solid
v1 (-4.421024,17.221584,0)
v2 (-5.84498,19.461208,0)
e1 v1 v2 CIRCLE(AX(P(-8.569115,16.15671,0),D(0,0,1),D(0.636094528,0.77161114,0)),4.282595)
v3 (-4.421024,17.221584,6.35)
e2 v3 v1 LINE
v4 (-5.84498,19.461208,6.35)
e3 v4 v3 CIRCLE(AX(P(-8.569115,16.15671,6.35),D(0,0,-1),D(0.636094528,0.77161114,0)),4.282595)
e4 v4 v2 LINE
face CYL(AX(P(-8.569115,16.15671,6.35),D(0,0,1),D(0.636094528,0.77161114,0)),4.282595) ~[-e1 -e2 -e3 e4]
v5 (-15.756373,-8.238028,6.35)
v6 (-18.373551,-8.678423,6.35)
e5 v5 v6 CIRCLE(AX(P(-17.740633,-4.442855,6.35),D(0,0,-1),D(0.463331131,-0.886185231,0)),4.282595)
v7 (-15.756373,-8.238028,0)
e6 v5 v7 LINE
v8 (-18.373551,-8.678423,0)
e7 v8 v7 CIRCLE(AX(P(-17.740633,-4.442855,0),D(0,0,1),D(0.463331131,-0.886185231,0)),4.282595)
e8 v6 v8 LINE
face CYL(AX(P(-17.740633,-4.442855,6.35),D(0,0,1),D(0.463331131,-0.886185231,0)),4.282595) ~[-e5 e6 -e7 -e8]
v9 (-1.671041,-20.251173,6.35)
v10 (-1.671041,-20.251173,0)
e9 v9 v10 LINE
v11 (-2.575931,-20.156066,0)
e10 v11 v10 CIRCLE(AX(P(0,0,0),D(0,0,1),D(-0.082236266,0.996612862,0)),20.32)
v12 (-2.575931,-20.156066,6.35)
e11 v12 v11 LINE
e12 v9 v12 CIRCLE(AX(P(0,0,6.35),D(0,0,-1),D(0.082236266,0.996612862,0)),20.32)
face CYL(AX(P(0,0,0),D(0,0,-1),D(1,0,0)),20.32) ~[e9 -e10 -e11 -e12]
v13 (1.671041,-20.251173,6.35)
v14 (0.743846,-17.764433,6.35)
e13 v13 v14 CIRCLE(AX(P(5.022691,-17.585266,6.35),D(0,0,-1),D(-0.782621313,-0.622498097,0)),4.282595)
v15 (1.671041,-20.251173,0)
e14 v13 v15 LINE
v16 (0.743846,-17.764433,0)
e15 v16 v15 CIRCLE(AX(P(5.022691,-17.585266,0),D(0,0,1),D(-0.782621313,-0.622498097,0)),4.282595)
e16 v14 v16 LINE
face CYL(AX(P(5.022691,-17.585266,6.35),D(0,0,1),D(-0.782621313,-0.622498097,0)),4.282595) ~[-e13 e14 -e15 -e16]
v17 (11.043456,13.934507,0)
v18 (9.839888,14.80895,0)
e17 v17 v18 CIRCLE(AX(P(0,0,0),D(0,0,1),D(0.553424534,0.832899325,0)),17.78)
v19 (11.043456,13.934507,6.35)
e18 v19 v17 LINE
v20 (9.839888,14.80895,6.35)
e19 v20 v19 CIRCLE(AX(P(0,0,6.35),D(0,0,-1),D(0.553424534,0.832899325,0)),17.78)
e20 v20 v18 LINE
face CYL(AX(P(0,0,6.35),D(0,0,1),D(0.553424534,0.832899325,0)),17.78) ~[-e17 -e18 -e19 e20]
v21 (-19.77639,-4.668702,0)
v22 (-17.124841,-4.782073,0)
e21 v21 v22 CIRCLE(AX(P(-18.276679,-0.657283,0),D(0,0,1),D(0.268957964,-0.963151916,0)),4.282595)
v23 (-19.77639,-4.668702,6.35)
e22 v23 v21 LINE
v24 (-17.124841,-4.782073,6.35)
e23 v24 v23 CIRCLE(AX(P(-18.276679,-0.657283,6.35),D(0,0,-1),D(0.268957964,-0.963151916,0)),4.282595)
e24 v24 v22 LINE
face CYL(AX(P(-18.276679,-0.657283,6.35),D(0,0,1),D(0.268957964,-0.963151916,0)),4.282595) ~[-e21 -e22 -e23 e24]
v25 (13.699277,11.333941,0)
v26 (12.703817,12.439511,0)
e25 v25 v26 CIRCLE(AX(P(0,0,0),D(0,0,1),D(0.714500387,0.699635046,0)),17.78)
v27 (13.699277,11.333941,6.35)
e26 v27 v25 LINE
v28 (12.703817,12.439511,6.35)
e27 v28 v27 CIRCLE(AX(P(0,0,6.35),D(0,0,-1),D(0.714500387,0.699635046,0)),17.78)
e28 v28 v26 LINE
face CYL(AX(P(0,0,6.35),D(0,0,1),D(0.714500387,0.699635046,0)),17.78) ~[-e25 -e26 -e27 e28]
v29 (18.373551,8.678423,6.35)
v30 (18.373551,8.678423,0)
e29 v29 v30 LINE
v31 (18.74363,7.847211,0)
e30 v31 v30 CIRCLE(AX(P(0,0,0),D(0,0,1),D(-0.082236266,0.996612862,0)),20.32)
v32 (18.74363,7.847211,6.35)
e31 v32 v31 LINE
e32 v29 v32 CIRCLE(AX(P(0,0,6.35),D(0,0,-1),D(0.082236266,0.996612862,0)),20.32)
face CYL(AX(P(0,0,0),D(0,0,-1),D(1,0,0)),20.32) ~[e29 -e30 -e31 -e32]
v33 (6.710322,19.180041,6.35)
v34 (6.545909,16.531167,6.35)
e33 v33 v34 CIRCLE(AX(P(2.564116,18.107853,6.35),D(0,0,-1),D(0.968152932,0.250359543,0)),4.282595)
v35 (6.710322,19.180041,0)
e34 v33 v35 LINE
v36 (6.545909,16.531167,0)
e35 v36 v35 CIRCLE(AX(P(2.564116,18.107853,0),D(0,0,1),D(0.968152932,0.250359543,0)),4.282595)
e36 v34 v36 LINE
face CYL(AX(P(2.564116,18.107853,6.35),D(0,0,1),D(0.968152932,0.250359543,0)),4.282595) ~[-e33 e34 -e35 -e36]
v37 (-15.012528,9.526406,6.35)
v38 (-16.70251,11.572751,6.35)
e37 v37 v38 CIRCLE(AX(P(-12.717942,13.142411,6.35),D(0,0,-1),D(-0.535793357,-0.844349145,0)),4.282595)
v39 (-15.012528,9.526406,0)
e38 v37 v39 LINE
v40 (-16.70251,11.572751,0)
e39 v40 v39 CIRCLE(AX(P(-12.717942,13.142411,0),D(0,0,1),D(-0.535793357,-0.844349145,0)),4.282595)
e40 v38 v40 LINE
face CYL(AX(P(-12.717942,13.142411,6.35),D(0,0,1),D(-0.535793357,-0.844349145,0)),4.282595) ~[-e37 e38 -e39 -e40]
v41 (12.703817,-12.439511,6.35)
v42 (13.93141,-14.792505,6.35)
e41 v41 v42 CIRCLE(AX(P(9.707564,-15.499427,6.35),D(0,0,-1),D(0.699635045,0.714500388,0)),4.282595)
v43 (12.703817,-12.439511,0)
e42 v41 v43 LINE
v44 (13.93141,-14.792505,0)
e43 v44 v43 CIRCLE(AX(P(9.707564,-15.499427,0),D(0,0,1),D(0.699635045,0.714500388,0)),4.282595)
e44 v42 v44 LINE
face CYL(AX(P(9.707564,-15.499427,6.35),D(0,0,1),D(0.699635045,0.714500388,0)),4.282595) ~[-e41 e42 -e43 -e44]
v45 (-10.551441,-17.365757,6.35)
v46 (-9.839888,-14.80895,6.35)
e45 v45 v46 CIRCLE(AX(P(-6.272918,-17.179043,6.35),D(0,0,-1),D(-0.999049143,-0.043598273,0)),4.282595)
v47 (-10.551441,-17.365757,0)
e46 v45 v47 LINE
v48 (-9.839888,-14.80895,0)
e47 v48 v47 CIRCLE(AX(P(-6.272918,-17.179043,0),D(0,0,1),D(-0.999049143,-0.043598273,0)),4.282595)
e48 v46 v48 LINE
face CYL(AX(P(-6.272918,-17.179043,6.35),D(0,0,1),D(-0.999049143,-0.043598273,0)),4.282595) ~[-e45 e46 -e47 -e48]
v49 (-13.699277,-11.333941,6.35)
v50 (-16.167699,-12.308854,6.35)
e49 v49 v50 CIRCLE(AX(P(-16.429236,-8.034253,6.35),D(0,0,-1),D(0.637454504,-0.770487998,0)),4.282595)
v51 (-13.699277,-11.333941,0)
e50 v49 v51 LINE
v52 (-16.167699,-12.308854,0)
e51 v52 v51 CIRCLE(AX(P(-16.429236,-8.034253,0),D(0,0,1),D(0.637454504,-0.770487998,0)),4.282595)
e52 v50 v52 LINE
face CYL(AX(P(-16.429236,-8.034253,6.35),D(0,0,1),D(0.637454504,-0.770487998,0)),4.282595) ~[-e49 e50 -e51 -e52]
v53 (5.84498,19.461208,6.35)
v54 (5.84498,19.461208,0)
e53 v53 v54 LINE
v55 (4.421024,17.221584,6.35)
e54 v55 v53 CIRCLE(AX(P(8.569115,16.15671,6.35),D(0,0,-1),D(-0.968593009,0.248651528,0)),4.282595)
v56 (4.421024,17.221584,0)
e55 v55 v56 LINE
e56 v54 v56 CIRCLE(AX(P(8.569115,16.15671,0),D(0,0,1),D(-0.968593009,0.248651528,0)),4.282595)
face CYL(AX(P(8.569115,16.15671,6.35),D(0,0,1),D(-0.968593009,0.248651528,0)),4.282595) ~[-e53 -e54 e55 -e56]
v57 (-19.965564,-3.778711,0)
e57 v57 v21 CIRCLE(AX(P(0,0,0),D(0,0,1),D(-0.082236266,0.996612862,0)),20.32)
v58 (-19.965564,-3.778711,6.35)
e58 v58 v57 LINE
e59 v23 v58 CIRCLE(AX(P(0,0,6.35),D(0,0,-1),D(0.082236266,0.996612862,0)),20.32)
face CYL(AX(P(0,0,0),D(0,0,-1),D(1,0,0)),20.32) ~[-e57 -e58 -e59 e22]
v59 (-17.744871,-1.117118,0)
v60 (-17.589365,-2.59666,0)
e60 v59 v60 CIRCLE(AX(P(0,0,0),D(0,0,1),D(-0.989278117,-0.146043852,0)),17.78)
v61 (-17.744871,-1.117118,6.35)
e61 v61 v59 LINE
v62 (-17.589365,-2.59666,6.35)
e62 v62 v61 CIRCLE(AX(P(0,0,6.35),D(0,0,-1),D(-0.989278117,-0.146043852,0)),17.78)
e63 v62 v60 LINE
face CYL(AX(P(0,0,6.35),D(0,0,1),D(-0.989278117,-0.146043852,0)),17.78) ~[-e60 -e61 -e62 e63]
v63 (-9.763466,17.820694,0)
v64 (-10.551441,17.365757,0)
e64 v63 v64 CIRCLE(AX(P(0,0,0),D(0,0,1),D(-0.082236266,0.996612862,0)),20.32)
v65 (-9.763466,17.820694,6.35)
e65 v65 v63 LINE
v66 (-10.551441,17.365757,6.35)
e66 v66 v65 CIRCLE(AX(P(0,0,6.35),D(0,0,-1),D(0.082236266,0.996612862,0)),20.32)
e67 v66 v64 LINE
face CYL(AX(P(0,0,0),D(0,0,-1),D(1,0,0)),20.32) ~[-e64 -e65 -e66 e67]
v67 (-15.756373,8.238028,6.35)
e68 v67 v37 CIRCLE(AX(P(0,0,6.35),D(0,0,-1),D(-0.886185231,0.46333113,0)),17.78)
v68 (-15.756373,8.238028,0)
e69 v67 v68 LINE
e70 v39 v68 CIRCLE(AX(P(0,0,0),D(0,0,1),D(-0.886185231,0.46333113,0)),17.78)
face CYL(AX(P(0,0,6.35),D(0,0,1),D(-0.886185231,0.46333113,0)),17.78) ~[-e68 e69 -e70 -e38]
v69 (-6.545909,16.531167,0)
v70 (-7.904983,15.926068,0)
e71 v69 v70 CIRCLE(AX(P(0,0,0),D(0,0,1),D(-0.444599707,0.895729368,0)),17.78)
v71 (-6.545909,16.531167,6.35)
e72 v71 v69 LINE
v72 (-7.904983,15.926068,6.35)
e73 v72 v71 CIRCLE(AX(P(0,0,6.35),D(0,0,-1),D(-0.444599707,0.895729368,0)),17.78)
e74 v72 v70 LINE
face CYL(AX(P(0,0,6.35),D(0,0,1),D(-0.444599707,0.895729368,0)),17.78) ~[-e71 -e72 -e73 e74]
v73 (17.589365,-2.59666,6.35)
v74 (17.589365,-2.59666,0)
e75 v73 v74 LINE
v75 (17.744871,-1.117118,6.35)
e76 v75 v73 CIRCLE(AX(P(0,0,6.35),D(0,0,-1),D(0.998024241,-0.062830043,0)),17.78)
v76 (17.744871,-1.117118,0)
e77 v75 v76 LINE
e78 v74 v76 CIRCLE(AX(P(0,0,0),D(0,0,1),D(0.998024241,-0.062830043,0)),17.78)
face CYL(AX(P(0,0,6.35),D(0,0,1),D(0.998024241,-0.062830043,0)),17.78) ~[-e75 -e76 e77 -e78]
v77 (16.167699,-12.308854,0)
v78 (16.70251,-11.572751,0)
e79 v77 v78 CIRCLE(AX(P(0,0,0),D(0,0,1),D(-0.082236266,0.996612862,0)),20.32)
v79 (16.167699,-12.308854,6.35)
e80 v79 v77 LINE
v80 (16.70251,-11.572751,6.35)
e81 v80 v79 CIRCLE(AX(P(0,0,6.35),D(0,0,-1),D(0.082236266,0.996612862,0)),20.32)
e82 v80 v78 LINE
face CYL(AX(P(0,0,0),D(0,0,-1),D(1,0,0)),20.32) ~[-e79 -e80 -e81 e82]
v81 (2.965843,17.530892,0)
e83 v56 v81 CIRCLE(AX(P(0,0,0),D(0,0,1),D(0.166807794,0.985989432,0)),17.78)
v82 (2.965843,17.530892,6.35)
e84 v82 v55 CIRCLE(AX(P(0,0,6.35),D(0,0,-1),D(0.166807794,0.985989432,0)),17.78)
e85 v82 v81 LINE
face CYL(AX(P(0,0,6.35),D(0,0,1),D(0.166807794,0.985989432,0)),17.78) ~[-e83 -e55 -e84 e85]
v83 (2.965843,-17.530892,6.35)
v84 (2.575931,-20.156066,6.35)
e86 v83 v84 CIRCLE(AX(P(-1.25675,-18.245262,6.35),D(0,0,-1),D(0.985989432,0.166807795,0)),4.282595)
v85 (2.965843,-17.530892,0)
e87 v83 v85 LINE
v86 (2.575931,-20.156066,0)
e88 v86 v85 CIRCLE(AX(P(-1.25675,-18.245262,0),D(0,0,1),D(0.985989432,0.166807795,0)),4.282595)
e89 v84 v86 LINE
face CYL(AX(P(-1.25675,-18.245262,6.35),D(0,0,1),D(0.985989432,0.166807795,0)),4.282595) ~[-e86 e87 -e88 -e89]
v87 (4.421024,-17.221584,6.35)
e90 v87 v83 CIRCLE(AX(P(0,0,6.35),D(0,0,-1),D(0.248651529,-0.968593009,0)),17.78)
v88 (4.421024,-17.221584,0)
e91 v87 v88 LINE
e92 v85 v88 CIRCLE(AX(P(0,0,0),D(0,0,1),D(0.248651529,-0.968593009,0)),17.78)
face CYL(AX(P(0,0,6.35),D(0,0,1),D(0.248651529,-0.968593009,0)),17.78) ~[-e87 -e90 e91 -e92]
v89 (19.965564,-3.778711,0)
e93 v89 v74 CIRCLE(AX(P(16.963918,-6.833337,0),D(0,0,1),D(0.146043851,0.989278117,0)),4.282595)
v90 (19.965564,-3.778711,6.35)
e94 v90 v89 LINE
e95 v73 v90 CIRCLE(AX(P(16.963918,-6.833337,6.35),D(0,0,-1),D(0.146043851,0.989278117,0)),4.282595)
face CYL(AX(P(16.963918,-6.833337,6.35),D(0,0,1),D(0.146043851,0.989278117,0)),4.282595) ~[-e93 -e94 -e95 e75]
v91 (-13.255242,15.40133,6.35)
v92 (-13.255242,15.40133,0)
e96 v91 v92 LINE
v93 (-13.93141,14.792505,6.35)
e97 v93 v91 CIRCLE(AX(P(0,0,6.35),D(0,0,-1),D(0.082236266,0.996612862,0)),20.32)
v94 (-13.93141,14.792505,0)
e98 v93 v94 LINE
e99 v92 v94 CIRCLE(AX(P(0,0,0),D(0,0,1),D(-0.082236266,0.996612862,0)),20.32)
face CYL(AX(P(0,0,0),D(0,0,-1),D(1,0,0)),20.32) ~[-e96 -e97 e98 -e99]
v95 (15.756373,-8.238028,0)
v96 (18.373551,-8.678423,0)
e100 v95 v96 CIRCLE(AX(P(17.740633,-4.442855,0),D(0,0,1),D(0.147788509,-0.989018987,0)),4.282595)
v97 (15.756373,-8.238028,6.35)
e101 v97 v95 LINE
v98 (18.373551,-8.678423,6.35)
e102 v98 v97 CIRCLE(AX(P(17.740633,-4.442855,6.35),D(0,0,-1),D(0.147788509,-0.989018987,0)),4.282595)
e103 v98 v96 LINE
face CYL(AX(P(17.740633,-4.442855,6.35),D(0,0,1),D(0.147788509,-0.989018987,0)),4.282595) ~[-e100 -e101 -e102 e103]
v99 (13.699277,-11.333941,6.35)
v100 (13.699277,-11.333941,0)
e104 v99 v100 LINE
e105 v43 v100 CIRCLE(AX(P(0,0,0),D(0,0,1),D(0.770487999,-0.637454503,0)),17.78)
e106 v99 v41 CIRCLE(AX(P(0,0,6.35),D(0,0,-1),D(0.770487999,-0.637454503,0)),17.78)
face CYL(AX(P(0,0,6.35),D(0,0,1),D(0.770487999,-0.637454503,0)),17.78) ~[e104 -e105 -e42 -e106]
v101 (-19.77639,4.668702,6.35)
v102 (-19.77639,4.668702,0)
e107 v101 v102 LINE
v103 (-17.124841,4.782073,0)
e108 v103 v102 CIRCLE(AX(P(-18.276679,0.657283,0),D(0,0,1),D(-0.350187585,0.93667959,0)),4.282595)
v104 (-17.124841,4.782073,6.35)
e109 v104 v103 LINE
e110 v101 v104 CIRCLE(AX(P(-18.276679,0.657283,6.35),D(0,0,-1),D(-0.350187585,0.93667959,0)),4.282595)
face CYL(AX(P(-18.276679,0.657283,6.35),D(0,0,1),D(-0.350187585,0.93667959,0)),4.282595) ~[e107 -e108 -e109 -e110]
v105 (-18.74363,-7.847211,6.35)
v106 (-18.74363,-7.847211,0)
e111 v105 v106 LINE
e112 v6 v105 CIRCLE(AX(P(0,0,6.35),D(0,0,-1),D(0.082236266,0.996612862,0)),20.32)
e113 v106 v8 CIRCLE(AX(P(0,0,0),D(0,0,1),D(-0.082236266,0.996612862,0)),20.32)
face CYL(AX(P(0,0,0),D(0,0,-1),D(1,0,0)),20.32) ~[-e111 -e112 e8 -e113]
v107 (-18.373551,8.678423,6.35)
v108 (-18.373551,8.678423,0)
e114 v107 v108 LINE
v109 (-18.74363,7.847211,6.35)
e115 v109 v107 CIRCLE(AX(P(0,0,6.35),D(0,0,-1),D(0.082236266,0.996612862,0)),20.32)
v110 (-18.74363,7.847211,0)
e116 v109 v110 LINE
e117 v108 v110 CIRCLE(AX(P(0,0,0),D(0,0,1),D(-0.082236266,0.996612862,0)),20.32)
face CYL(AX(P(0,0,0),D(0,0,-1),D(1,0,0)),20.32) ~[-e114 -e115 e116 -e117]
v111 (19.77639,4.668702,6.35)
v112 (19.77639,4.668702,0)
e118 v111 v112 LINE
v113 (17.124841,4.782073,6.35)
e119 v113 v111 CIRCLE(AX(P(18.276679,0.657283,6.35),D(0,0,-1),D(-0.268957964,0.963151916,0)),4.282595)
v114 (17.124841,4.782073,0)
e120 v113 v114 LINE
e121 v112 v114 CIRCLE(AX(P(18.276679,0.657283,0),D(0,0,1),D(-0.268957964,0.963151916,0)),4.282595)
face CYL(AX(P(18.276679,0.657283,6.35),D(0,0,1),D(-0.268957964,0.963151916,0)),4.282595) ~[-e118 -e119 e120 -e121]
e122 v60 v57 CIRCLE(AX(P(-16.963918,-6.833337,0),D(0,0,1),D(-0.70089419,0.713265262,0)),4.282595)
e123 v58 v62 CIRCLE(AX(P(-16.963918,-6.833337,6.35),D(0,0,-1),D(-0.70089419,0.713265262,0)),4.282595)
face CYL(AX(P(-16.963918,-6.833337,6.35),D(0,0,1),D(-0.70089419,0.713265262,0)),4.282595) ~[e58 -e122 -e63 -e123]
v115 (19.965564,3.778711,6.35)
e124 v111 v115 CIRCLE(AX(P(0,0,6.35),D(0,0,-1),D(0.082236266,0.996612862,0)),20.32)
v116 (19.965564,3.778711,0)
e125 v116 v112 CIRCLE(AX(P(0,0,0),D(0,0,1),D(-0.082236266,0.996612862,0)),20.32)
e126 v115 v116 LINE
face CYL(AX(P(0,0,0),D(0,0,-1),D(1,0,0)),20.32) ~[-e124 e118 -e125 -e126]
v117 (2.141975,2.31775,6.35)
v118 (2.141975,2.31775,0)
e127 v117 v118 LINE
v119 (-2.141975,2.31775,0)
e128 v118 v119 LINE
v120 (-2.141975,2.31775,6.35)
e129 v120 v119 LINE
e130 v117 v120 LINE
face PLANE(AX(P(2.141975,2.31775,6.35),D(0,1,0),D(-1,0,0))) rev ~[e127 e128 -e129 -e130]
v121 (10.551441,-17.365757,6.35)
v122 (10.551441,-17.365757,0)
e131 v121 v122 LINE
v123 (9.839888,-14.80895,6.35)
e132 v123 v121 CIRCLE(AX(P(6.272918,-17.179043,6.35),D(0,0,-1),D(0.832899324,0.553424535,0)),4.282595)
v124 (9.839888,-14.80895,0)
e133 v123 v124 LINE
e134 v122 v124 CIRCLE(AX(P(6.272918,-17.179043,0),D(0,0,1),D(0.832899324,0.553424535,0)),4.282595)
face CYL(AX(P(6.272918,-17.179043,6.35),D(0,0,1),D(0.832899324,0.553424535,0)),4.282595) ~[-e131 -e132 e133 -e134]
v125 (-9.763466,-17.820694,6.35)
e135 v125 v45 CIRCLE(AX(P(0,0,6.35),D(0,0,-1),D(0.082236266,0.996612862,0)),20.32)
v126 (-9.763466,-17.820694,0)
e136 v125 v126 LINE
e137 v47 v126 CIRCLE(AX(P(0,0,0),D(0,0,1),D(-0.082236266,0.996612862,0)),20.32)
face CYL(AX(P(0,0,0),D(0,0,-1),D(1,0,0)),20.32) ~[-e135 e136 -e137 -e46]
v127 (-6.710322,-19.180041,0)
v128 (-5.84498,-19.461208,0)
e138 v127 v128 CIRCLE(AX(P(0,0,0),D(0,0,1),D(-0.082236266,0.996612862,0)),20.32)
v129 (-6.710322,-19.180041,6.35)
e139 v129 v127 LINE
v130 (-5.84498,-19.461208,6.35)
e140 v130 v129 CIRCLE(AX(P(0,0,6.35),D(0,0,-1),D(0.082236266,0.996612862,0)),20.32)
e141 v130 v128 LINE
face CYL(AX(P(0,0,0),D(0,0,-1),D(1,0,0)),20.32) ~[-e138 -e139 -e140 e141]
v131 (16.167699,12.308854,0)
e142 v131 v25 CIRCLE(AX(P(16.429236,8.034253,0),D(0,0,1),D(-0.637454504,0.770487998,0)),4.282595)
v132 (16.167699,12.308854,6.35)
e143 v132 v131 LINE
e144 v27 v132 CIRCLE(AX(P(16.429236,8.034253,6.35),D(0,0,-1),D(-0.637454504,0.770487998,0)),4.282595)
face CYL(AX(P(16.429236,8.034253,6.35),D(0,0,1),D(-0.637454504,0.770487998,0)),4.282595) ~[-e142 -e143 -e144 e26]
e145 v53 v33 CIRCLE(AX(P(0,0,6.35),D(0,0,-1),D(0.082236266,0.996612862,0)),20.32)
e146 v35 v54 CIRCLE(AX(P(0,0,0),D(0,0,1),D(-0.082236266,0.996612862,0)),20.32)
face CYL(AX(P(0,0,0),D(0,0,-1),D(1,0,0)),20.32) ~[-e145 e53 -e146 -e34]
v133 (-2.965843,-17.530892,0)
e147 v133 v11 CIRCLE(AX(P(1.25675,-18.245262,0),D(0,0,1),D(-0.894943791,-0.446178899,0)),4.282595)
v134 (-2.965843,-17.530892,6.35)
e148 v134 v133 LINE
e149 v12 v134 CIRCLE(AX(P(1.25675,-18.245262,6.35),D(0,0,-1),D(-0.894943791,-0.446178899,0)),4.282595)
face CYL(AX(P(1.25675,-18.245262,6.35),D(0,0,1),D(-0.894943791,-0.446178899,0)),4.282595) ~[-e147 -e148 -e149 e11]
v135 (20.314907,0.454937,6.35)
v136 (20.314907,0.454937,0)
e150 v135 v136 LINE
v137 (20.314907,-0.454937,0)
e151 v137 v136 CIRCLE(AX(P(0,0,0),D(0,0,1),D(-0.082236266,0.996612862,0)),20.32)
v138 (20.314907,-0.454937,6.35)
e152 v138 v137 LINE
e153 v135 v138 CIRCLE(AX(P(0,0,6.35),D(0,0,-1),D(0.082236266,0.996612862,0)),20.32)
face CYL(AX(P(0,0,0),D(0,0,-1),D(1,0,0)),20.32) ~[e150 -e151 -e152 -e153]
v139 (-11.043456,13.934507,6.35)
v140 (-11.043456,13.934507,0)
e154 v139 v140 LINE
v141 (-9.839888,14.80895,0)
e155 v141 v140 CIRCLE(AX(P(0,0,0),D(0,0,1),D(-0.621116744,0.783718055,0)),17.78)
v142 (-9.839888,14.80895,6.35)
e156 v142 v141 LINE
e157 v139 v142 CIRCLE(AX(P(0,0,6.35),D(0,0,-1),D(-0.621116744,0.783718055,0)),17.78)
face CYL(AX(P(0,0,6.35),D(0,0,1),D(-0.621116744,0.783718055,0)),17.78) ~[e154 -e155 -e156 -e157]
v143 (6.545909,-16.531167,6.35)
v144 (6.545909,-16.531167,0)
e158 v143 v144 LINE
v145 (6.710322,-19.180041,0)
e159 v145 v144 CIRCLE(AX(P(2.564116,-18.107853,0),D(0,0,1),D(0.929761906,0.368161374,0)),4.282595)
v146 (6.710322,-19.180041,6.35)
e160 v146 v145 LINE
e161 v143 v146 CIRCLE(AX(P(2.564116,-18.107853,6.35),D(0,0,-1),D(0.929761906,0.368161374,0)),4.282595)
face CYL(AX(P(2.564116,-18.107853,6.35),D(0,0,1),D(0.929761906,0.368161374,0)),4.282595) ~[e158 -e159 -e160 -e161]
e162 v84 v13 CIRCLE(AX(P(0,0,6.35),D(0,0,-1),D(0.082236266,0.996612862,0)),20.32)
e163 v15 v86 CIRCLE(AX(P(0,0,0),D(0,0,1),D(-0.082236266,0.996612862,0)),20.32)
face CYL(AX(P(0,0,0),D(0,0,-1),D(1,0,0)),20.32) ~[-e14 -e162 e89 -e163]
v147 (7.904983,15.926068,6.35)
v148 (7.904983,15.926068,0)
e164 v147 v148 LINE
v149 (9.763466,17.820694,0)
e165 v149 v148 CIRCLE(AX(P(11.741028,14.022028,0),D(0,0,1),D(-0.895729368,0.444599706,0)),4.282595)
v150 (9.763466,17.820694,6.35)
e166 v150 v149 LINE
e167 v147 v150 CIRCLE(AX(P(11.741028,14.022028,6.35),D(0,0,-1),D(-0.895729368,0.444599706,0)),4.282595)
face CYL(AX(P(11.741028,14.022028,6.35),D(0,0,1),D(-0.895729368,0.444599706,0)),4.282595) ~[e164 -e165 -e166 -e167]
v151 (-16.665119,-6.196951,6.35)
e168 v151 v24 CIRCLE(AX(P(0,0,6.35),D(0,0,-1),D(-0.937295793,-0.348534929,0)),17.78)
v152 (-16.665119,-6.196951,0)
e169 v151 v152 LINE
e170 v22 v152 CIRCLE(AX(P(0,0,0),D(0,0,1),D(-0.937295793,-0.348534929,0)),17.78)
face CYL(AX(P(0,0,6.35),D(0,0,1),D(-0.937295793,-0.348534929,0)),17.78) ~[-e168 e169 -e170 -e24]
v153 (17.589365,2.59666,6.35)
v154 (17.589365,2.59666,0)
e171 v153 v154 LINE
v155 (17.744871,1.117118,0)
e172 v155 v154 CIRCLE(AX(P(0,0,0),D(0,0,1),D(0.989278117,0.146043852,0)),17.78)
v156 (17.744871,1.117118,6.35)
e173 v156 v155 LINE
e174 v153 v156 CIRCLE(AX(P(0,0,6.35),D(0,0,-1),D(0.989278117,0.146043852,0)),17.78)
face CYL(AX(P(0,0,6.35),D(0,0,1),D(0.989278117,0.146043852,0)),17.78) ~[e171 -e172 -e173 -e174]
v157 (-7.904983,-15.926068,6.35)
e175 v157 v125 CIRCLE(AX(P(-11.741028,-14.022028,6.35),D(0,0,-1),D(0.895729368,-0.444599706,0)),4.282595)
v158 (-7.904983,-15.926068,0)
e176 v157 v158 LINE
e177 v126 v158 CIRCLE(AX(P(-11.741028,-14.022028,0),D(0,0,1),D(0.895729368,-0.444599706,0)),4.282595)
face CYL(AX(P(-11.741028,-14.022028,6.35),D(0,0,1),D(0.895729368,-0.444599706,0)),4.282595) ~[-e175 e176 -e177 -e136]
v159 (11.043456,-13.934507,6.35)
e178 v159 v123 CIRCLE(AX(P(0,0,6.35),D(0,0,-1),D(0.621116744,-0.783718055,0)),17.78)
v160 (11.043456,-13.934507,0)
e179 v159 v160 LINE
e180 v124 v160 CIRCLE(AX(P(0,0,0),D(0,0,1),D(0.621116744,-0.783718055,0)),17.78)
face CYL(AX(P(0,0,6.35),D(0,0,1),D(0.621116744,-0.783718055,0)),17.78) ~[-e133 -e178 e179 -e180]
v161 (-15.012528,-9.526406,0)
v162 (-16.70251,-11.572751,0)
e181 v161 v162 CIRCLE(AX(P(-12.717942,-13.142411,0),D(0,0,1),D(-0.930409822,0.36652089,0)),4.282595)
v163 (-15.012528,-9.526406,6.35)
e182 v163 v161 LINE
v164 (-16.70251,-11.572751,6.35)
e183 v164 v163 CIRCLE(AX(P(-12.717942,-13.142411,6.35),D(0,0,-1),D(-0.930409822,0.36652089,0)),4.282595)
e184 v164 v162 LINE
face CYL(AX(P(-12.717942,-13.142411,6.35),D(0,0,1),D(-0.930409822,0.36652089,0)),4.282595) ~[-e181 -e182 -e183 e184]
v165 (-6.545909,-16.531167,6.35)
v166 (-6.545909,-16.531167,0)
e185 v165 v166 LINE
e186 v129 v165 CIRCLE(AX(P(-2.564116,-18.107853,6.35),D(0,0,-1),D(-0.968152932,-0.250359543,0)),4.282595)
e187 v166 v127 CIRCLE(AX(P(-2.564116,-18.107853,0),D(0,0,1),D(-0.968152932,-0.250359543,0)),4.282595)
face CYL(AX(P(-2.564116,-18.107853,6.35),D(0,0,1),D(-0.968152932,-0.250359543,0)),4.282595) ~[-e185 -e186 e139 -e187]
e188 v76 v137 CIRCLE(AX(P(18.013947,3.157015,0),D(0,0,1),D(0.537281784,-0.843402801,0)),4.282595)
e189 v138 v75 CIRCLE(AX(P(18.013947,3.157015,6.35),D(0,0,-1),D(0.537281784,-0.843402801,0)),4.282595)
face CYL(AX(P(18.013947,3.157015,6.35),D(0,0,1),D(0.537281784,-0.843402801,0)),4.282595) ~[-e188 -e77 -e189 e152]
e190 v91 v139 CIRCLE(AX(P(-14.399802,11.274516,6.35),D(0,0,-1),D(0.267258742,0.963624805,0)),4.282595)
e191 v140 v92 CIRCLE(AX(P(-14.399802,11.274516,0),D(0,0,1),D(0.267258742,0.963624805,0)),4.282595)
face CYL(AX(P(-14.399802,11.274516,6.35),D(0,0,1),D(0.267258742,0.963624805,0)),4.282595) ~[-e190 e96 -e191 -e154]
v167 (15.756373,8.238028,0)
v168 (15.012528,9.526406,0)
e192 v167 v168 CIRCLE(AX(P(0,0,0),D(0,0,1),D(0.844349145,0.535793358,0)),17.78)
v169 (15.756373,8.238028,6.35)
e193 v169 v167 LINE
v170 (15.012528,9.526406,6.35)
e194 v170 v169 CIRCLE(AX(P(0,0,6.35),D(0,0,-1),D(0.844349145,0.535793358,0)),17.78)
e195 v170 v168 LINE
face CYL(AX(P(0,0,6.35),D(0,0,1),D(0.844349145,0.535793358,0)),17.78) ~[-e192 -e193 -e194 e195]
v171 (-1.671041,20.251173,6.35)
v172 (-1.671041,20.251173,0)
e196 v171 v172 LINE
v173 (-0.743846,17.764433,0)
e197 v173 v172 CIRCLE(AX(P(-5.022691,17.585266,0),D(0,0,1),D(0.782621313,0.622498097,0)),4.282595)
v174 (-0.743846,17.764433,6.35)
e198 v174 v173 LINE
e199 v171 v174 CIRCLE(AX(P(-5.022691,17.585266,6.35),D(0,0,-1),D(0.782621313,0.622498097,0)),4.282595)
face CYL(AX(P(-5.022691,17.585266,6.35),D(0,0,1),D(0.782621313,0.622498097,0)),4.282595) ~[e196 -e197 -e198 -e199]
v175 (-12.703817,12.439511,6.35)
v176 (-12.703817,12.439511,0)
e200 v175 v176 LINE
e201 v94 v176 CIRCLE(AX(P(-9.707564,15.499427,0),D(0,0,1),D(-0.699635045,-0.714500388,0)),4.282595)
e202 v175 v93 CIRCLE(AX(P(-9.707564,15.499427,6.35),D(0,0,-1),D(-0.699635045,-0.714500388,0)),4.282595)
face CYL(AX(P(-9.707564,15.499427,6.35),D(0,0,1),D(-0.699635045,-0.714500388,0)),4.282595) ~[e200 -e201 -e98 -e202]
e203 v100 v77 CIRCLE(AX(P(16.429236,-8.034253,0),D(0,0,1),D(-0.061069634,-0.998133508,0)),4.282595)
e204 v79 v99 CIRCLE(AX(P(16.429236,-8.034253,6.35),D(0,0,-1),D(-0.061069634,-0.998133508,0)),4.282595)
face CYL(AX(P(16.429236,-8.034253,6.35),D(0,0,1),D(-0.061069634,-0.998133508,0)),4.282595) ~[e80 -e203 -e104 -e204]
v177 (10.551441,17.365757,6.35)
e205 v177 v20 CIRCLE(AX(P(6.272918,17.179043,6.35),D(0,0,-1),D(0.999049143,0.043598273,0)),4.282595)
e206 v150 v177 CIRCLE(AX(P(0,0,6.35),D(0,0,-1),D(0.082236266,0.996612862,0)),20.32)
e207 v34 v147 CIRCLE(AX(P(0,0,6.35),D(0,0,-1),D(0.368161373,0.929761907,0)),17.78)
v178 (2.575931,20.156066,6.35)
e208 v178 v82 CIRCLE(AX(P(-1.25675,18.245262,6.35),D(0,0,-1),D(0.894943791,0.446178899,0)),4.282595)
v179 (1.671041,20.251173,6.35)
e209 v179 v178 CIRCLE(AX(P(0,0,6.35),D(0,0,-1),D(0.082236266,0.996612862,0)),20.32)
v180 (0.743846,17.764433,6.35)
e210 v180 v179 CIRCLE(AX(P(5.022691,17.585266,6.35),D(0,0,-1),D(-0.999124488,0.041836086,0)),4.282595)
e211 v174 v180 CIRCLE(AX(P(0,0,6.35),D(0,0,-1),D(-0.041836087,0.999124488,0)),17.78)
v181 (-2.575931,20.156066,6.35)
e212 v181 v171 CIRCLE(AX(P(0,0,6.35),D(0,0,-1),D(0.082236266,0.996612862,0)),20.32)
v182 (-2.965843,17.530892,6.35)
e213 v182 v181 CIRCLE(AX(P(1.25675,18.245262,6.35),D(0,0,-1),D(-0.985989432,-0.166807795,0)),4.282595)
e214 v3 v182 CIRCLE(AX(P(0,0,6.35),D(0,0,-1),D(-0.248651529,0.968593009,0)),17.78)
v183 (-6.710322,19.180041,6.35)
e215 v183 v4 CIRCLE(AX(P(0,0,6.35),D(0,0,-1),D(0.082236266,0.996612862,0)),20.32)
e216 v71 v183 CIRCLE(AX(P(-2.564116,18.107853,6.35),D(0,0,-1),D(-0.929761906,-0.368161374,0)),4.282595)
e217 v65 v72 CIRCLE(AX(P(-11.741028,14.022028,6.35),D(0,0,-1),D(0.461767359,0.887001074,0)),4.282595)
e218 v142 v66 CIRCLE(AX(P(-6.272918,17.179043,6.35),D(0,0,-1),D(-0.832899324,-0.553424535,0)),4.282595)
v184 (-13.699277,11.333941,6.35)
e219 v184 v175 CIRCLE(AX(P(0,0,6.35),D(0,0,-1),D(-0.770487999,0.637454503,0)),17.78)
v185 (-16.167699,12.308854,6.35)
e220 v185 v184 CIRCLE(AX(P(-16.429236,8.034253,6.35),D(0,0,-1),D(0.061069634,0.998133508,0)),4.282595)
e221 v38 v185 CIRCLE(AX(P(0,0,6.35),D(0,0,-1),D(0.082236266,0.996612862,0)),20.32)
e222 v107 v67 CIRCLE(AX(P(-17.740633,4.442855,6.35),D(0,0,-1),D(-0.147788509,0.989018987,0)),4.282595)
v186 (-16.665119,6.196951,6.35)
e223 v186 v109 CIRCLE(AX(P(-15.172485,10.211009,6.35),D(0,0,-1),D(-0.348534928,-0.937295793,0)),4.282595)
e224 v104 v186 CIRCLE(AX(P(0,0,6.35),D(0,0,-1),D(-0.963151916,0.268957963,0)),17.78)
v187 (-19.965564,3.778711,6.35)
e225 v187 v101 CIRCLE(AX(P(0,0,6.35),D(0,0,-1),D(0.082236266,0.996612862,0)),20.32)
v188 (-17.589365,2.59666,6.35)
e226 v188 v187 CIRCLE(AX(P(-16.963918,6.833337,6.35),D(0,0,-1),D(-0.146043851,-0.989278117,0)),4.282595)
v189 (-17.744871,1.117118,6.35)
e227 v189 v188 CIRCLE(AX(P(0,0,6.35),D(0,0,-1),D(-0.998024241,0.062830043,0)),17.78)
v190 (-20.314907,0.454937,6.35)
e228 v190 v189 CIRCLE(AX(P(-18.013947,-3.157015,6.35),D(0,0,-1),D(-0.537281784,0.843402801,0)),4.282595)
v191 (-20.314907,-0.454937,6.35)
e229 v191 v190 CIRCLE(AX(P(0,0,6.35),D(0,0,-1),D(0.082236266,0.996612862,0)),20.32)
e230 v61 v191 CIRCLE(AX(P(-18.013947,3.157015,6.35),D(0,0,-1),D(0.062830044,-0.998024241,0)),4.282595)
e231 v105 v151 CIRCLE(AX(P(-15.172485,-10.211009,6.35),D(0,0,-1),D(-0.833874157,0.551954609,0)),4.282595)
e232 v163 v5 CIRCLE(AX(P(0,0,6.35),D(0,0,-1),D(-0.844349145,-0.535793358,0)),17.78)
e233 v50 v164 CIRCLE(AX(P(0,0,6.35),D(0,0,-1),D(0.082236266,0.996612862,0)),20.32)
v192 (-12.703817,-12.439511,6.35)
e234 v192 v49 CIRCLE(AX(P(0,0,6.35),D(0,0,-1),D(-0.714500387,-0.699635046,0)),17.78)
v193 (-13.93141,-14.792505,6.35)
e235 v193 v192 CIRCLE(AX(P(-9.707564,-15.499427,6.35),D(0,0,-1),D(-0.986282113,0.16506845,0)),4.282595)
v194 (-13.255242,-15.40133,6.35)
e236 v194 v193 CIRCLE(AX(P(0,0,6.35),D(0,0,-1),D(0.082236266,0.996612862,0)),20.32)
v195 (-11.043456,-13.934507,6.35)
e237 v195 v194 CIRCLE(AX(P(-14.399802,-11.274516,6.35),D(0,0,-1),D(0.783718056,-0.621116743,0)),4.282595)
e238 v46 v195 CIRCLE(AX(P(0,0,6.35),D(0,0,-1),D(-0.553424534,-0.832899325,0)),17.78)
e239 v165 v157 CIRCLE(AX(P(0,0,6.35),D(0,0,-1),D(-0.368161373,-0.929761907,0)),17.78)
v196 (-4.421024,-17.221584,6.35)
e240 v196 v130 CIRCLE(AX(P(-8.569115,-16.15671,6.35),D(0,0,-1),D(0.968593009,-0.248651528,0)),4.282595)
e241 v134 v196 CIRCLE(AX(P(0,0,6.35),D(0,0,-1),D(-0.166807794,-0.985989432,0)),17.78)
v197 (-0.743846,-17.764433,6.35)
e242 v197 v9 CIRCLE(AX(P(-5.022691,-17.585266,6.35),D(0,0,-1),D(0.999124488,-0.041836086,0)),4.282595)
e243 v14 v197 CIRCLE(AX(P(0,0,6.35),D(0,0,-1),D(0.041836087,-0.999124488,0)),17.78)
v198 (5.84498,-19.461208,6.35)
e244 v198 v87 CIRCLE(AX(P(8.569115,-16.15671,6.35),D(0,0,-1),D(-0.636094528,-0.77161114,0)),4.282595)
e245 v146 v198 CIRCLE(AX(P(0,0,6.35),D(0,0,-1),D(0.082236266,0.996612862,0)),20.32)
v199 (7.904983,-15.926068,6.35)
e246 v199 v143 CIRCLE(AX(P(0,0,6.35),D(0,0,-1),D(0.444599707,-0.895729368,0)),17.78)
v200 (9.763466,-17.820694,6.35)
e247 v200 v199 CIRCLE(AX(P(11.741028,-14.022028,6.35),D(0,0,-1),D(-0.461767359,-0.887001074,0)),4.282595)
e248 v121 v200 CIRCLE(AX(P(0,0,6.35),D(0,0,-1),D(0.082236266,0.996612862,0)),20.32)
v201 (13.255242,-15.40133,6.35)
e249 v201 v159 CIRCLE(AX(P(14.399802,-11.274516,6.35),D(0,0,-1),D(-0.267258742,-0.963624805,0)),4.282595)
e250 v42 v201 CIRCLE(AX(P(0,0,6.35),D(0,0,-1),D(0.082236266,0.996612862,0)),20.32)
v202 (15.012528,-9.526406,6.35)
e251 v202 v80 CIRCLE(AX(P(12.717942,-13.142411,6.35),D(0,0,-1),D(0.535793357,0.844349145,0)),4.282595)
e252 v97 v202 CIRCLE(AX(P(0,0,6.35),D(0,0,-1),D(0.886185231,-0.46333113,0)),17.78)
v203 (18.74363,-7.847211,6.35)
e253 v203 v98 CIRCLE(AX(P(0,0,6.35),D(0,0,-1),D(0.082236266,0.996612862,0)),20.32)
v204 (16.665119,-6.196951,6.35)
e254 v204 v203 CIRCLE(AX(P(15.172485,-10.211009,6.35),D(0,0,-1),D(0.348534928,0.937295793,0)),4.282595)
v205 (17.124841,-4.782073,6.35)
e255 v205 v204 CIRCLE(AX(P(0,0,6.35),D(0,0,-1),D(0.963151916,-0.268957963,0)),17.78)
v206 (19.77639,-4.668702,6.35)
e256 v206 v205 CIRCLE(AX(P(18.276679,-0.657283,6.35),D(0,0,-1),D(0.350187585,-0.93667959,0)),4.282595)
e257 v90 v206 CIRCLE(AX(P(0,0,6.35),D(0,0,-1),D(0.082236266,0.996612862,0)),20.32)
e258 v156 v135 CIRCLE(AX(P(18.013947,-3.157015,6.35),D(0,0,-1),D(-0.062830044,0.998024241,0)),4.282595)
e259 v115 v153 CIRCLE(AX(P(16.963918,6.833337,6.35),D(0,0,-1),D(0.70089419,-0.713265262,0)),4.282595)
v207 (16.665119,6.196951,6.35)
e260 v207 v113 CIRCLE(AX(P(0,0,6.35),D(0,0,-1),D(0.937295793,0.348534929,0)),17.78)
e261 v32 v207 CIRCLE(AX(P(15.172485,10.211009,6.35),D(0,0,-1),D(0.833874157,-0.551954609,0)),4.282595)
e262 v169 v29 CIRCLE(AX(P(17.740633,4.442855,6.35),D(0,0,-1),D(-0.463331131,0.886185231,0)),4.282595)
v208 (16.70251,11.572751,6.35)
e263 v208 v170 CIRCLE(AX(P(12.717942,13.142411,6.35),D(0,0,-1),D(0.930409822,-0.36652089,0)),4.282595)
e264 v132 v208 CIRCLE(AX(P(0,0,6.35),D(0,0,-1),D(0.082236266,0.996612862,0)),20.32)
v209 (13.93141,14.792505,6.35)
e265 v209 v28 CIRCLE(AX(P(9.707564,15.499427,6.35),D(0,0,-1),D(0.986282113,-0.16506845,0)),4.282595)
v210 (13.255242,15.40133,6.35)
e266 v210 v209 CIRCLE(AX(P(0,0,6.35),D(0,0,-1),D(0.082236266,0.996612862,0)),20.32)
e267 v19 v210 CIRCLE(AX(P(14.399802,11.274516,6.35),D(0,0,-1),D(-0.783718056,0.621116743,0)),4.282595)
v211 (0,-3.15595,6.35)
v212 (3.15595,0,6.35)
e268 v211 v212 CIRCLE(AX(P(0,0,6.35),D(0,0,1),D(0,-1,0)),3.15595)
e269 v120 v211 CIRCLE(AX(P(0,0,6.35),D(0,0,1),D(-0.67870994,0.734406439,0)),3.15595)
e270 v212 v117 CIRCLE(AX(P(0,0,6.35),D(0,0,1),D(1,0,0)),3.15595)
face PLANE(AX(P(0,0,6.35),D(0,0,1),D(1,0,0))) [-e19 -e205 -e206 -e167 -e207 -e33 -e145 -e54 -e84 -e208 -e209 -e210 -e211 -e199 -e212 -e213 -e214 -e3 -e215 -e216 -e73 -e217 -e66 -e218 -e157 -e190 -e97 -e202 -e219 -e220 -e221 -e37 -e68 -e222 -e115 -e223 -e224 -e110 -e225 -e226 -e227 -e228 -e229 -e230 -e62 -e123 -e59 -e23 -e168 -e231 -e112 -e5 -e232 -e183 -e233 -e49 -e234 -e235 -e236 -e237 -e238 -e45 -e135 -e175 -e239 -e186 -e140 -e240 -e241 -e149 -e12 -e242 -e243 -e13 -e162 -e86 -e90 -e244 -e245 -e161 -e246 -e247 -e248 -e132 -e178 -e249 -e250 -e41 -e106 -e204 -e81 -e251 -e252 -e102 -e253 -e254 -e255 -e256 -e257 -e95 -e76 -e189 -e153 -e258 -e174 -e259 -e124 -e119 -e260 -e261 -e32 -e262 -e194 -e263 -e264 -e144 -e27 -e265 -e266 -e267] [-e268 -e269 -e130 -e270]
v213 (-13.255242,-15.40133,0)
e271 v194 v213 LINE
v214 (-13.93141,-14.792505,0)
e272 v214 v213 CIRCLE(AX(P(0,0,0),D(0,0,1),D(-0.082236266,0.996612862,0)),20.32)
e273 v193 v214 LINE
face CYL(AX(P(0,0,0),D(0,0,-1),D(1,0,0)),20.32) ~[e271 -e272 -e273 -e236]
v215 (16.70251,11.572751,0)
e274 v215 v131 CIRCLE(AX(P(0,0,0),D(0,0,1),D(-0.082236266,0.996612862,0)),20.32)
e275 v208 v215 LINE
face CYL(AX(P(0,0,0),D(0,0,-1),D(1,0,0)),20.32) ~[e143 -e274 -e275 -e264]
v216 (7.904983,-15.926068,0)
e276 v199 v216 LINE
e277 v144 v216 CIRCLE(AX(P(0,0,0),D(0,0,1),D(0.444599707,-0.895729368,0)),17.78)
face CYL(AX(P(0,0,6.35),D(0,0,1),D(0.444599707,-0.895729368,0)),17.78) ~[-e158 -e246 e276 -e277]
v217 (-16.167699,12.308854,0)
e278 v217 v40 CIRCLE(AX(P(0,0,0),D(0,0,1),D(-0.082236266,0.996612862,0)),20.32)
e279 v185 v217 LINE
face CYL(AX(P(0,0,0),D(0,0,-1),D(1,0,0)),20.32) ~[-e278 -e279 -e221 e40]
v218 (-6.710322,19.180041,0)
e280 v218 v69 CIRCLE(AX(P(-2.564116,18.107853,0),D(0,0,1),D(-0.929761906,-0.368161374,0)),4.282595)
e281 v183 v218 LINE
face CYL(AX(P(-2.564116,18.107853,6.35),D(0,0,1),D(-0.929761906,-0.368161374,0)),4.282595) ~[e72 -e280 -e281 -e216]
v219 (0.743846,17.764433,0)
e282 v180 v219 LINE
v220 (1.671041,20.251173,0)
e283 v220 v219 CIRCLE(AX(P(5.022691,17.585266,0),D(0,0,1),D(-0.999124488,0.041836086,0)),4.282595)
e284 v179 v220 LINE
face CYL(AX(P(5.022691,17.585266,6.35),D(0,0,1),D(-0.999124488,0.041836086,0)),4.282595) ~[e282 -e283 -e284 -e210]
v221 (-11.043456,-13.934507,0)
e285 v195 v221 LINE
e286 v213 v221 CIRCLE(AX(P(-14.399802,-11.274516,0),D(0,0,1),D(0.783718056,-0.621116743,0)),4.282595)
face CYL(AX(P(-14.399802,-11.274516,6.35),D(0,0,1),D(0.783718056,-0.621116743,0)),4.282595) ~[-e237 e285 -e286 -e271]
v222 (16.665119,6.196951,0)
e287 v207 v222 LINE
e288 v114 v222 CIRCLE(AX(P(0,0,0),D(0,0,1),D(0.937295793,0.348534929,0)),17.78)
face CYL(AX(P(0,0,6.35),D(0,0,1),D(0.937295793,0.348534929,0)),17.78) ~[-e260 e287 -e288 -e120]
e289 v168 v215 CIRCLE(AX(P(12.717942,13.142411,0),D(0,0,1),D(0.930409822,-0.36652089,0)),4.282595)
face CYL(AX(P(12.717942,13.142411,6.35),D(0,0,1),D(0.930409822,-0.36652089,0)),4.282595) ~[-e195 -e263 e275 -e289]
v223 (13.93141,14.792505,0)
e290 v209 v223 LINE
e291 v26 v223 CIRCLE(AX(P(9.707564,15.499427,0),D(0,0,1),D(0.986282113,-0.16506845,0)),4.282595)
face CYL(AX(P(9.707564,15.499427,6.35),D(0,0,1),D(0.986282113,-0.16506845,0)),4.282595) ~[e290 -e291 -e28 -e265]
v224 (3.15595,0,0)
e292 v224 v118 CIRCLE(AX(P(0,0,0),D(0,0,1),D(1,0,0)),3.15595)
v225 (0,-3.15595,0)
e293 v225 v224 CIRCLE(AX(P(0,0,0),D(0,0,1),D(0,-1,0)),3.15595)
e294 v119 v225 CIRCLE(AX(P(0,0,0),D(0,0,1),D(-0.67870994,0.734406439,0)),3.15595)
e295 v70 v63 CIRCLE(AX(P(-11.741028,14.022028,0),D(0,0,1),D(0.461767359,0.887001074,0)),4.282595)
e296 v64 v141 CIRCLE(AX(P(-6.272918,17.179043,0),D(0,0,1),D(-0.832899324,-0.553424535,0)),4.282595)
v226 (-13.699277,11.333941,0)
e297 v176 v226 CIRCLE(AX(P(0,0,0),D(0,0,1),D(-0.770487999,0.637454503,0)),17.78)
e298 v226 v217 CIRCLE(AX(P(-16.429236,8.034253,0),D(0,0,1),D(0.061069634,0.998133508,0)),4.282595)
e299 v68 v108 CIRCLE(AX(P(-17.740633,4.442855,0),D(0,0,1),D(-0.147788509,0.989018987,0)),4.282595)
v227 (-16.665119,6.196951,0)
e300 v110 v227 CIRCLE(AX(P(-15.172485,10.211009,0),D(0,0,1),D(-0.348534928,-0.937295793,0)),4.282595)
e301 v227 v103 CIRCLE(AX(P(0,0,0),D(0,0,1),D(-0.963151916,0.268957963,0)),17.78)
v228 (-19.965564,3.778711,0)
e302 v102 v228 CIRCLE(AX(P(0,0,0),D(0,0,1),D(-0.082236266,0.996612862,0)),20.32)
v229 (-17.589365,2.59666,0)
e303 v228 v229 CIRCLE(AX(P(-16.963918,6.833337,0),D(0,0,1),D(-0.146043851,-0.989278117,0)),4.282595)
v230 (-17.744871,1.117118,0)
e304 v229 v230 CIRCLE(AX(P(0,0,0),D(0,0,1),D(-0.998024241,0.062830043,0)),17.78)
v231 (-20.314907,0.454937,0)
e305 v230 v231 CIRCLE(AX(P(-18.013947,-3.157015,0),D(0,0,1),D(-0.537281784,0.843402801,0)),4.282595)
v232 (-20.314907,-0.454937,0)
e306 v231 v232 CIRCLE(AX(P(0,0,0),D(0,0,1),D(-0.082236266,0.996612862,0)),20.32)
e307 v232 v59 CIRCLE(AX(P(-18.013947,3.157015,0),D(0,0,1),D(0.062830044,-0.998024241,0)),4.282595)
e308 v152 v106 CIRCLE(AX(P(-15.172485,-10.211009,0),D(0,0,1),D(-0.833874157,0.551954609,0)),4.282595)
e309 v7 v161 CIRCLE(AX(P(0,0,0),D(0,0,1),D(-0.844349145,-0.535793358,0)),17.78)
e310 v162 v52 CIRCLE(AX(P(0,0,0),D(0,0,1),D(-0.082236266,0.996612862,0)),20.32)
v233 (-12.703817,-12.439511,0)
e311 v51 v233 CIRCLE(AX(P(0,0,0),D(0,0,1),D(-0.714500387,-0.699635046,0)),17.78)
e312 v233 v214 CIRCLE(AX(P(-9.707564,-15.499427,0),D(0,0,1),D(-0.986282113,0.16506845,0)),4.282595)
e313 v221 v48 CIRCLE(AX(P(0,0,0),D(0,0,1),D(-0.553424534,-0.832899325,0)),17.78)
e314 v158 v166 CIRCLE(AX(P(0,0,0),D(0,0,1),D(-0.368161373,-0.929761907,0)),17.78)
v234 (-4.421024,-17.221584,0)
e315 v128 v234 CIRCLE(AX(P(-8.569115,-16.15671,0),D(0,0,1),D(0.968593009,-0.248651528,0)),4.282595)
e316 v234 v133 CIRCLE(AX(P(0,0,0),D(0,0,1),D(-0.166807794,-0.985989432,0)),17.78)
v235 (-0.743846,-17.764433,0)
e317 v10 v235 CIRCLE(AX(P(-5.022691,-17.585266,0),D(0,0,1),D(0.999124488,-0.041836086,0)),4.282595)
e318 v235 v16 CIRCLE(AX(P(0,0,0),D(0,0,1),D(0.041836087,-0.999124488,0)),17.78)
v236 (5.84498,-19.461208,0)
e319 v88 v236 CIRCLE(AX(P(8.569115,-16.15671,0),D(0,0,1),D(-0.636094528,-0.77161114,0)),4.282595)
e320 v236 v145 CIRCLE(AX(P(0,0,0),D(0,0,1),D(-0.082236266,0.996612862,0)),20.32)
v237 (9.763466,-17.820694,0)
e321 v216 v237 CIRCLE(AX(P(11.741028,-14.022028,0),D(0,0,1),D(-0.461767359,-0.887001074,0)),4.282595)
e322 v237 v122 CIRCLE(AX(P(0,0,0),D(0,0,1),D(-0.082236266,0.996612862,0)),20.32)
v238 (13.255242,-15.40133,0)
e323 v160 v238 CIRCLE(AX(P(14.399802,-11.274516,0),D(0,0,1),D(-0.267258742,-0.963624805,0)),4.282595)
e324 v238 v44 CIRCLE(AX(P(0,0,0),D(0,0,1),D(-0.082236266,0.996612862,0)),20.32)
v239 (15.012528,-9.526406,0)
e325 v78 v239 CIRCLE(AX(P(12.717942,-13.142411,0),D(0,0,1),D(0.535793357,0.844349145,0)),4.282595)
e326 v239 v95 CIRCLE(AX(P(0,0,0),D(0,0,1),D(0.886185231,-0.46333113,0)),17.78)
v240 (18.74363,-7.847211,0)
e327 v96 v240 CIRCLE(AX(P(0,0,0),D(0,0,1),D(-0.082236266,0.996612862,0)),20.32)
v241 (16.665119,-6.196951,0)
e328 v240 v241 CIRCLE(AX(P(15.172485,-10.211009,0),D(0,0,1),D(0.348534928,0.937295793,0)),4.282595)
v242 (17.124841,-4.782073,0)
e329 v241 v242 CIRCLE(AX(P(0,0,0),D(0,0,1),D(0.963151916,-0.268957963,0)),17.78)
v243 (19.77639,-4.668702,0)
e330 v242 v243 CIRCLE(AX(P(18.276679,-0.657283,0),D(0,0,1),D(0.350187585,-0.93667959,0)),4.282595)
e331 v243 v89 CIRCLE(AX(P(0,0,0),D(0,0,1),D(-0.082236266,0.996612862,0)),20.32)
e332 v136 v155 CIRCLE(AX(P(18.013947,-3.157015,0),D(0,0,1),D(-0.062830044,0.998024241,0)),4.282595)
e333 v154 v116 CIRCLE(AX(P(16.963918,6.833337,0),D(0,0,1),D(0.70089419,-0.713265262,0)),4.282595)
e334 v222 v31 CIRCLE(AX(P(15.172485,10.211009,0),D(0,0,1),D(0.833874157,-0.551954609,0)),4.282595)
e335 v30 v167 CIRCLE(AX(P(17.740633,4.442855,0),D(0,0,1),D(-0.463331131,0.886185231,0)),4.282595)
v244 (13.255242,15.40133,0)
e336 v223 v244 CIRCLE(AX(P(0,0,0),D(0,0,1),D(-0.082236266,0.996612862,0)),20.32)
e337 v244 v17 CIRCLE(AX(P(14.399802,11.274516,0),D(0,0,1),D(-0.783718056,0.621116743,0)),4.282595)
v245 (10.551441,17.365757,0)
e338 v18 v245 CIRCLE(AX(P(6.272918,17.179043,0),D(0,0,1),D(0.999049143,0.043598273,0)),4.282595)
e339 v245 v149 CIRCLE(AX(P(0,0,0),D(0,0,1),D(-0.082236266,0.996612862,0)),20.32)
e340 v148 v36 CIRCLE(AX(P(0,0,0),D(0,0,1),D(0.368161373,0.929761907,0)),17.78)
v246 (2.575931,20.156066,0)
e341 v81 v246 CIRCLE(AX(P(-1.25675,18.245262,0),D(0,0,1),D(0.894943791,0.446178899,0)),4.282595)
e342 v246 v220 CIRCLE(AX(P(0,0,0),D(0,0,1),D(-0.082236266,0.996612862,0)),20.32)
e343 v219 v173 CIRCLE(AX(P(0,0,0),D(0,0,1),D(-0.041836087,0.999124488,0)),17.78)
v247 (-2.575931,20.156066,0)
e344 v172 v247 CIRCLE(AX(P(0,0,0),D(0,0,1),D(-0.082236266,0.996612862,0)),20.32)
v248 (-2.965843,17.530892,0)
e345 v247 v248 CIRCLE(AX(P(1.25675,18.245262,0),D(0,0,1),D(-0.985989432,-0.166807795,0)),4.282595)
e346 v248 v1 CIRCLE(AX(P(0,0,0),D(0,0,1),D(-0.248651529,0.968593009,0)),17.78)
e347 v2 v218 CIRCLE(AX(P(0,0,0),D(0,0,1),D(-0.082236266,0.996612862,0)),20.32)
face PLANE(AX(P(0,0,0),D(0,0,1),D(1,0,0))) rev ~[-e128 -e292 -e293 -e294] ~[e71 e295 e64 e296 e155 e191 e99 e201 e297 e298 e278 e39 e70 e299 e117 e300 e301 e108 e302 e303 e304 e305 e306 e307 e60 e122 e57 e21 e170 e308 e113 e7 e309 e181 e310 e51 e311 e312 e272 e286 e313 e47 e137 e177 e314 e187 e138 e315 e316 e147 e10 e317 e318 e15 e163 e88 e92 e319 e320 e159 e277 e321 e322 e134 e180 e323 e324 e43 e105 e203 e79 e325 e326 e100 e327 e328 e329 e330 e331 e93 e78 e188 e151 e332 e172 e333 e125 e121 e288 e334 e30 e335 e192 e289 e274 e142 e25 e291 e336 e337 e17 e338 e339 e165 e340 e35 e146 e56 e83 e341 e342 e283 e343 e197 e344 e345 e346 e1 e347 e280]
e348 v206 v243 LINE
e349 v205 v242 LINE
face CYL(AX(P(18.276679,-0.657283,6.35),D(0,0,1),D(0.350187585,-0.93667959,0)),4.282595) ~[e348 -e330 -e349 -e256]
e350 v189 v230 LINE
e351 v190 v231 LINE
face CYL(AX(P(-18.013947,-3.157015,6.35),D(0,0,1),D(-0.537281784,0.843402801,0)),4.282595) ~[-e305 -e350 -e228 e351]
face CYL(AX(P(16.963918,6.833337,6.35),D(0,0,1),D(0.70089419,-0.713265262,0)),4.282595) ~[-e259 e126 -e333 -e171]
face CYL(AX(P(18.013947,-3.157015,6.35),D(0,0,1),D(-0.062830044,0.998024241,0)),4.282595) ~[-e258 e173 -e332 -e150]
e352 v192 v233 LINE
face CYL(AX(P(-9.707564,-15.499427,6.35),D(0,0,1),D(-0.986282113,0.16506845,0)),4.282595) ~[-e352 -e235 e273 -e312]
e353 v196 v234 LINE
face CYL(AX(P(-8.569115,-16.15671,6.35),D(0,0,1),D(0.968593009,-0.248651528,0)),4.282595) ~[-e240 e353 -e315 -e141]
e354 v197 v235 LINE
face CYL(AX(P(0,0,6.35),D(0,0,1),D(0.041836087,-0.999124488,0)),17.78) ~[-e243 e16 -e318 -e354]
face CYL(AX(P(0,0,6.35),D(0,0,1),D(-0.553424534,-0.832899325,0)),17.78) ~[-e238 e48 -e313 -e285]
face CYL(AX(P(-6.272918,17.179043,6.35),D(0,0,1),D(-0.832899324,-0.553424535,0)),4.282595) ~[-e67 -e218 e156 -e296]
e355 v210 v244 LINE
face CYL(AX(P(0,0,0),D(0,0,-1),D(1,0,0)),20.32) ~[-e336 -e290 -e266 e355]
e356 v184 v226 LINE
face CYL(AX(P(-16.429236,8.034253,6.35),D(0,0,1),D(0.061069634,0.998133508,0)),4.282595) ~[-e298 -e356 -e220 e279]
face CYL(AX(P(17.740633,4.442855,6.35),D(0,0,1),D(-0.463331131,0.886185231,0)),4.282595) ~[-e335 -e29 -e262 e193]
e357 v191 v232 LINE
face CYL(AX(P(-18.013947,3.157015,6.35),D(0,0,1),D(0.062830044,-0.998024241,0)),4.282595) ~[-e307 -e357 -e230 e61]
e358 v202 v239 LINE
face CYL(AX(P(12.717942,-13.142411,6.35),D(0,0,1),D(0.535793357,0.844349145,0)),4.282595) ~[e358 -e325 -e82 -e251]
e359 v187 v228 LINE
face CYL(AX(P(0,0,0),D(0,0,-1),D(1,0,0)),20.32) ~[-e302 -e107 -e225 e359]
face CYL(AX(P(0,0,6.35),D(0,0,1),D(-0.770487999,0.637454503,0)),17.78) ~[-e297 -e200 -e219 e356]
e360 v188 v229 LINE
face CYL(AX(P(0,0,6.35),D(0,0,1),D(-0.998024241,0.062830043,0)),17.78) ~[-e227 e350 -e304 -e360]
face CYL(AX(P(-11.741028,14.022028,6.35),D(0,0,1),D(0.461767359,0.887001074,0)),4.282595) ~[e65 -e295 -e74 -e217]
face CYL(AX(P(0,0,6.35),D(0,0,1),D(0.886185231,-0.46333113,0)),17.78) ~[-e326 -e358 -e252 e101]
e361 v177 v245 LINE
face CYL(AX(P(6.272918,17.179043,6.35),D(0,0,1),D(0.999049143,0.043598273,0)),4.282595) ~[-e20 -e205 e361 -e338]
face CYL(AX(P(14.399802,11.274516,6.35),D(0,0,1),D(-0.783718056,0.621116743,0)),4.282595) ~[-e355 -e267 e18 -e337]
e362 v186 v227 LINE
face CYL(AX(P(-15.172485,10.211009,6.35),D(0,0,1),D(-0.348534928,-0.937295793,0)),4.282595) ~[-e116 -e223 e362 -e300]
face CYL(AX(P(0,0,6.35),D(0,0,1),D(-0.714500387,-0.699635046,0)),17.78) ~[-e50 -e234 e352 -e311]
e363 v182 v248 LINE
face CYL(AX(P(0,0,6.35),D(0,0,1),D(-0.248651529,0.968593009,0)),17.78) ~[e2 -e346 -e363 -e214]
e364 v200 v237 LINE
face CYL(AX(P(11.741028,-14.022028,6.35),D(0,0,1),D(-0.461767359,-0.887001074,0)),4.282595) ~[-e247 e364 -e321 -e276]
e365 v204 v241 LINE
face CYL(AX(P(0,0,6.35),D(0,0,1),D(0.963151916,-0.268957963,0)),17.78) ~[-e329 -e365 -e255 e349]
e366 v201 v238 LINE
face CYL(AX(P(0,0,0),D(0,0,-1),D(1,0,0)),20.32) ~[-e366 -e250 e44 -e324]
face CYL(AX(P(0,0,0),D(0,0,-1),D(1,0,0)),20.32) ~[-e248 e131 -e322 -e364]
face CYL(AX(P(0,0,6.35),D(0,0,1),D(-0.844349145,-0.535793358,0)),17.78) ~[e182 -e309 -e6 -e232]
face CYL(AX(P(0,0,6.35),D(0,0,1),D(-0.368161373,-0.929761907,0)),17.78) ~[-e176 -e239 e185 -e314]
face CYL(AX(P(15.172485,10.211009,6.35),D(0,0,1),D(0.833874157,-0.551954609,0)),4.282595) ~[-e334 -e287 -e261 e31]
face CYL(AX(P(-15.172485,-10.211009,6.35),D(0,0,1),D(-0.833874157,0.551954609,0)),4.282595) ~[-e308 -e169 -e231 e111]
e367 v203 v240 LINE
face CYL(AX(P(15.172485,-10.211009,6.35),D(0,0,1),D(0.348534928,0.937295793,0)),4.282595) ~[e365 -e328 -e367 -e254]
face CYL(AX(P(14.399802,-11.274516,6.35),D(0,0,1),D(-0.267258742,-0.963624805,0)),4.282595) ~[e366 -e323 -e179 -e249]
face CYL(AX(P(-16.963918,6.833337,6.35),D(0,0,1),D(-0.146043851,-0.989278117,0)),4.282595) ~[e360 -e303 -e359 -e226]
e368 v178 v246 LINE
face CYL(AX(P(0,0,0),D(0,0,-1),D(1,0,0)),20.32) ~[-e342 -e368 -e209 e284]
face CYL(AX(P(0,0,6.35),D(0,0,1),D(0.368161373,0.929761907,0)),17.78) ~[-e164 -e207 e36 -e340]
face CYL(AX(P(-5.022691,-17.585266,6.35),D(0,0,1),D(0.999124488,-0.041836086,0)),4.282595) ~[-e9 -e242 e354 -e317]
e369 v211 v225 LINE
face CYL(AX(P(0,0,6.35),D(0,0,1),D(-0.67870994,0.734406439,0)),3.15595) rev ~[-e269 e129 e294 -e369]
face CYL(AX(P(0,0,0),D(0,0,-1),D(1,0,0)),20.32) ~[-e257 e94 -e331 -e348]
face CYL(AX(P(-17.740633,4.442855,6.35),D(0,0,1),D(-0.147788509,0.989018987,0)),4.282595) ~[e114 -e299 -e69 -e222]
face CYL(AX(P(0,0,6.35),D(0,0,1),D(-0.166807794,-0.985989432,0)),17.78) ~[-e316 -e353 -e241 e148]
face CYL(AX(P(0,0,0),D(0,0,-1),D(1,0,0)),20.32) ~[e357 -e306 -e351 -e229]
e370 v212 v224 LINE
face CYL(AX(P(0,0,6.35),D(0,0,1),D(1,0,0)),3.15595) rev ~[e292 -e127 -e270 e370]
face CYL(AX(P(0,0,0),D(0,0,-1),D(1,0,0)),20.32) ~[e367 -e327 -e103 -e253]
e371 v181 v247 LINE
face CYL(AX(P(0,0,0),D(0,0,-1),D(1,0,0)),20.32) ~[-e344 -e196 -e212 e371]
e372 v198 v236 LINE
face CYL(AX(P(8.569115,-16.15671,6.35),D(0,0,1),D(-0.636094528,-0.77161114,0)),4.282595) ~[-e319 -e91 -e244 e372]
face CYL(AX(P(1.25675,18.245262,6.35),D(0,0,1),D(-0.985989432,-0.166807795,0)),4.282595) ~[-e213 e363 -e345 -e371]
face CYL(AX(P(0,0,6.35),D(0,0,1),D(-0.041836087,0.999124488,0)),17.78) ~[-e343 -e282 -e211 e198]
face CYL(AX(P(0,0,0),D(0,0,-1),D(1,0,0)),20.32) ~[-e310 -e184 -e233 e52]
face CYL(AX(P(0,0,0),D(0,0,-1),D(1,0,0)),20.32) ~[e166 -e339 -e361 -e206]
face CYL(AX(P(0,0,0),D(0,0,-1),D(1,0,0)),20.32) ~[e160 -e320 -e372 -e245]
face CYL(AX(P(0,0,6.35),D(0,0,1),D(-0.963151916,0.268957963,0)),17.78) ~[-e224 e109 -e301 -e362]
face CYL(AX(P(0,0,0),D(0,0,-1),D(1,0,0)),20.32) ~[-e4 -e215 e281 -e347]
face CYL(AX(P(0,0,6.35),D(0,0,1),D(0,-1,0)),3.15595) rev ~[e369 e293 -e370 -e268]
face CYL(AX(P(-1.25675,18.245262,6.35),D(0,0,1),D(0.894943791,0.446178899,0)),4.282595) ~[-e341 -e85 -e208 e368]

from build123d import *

# Parameters (mm, degrees)
SKETCH1_R           = 20.32
OUTER_CIRCLE_DEPTH  = 6.35
TOOTH_CUT_DEPTH     = 30.430040775
TEETH_PATTERN_COUNT = 30
CUT_EXTRUDE1_DEPTH  = 30.382561533


with BuildPart() as part:
    # Sketch1 → Outer Circle (new body)
    with BuildSketch(Plane.XY):
        Circle(SKETCH1_R)
    extrude(amount=OUTER_CIRCLE_DEPTH)

    # Sketch2 → Tooth Cut (cut, through all)
    with BuildSketch(Plane.XY.offset(6.35)):
        with BuildLine():
            ThreePointArc((-0.743845606, 17.764433391), (0, 17.78), (0.743845606, 17.764433391))
            ThreePointArc((0.743845606, 17.764433391), (1.009950749, 19.081439594), (1.671040922, 20.251173355))
            ThreePointArc((1.671040922, 20.251173355), (0, 20.32), (-1.671040922, 20.251173355))
            ThreePointArc((-1.671040922, 20.251173355), (-1.009950749, 19.081439594), (-0.743845606, 17.764433391))
        make_face()
    tooth_cut = extrude(amount=-TOOTH_CUT_DEPTH, mode=Mode.SUBTRACT)

    # Teeth Pattern: Tooth Cut ×30 about axis
    teeth_pattern_axis = Axis((0, 0, 0), (0, 0, 1))
    for i in range(1, TEETH_PATTERN_COUNT):
        add(tooth_cut.rotate(teeth_pattern_axis, i * 360 / TEETH_PATTERN_COUNT), mode=Mode.SUBTRACT)

    # Sketch3 → Cut-Extrude1 (cut, through all)
    with BuildSketch(Plane.XY.offset(6.35)):
        with BuildLine():
            Line((0, 2.31775), (-2.141974636, 2.31775))
            ThreePointArc((-2.141974636, 2.31775), (-2.938938883, -1.150068974), (0, -3.15595))
            Line((0, -3.15595), (0, 2.31775))
        make_face()
        with BuildLine():
            Line((2.141974636, 2.31775), (0, 2.31775))
            Line((0, 2.31775), (0, -3.15595))
            ThreePointArc((0, -3.15595), (2.231593646, -2.231593646), (3.15595, 0))
            ThreePointArc((3.15595, 0), (2.891365184, 1.264922043), (2.141974636, 2.31775))
        make_face()
    extrude(amount=-CUT_EXTRUDE1_DEPTH, mode=Mode.SUBTRACT)


solid = part.part
